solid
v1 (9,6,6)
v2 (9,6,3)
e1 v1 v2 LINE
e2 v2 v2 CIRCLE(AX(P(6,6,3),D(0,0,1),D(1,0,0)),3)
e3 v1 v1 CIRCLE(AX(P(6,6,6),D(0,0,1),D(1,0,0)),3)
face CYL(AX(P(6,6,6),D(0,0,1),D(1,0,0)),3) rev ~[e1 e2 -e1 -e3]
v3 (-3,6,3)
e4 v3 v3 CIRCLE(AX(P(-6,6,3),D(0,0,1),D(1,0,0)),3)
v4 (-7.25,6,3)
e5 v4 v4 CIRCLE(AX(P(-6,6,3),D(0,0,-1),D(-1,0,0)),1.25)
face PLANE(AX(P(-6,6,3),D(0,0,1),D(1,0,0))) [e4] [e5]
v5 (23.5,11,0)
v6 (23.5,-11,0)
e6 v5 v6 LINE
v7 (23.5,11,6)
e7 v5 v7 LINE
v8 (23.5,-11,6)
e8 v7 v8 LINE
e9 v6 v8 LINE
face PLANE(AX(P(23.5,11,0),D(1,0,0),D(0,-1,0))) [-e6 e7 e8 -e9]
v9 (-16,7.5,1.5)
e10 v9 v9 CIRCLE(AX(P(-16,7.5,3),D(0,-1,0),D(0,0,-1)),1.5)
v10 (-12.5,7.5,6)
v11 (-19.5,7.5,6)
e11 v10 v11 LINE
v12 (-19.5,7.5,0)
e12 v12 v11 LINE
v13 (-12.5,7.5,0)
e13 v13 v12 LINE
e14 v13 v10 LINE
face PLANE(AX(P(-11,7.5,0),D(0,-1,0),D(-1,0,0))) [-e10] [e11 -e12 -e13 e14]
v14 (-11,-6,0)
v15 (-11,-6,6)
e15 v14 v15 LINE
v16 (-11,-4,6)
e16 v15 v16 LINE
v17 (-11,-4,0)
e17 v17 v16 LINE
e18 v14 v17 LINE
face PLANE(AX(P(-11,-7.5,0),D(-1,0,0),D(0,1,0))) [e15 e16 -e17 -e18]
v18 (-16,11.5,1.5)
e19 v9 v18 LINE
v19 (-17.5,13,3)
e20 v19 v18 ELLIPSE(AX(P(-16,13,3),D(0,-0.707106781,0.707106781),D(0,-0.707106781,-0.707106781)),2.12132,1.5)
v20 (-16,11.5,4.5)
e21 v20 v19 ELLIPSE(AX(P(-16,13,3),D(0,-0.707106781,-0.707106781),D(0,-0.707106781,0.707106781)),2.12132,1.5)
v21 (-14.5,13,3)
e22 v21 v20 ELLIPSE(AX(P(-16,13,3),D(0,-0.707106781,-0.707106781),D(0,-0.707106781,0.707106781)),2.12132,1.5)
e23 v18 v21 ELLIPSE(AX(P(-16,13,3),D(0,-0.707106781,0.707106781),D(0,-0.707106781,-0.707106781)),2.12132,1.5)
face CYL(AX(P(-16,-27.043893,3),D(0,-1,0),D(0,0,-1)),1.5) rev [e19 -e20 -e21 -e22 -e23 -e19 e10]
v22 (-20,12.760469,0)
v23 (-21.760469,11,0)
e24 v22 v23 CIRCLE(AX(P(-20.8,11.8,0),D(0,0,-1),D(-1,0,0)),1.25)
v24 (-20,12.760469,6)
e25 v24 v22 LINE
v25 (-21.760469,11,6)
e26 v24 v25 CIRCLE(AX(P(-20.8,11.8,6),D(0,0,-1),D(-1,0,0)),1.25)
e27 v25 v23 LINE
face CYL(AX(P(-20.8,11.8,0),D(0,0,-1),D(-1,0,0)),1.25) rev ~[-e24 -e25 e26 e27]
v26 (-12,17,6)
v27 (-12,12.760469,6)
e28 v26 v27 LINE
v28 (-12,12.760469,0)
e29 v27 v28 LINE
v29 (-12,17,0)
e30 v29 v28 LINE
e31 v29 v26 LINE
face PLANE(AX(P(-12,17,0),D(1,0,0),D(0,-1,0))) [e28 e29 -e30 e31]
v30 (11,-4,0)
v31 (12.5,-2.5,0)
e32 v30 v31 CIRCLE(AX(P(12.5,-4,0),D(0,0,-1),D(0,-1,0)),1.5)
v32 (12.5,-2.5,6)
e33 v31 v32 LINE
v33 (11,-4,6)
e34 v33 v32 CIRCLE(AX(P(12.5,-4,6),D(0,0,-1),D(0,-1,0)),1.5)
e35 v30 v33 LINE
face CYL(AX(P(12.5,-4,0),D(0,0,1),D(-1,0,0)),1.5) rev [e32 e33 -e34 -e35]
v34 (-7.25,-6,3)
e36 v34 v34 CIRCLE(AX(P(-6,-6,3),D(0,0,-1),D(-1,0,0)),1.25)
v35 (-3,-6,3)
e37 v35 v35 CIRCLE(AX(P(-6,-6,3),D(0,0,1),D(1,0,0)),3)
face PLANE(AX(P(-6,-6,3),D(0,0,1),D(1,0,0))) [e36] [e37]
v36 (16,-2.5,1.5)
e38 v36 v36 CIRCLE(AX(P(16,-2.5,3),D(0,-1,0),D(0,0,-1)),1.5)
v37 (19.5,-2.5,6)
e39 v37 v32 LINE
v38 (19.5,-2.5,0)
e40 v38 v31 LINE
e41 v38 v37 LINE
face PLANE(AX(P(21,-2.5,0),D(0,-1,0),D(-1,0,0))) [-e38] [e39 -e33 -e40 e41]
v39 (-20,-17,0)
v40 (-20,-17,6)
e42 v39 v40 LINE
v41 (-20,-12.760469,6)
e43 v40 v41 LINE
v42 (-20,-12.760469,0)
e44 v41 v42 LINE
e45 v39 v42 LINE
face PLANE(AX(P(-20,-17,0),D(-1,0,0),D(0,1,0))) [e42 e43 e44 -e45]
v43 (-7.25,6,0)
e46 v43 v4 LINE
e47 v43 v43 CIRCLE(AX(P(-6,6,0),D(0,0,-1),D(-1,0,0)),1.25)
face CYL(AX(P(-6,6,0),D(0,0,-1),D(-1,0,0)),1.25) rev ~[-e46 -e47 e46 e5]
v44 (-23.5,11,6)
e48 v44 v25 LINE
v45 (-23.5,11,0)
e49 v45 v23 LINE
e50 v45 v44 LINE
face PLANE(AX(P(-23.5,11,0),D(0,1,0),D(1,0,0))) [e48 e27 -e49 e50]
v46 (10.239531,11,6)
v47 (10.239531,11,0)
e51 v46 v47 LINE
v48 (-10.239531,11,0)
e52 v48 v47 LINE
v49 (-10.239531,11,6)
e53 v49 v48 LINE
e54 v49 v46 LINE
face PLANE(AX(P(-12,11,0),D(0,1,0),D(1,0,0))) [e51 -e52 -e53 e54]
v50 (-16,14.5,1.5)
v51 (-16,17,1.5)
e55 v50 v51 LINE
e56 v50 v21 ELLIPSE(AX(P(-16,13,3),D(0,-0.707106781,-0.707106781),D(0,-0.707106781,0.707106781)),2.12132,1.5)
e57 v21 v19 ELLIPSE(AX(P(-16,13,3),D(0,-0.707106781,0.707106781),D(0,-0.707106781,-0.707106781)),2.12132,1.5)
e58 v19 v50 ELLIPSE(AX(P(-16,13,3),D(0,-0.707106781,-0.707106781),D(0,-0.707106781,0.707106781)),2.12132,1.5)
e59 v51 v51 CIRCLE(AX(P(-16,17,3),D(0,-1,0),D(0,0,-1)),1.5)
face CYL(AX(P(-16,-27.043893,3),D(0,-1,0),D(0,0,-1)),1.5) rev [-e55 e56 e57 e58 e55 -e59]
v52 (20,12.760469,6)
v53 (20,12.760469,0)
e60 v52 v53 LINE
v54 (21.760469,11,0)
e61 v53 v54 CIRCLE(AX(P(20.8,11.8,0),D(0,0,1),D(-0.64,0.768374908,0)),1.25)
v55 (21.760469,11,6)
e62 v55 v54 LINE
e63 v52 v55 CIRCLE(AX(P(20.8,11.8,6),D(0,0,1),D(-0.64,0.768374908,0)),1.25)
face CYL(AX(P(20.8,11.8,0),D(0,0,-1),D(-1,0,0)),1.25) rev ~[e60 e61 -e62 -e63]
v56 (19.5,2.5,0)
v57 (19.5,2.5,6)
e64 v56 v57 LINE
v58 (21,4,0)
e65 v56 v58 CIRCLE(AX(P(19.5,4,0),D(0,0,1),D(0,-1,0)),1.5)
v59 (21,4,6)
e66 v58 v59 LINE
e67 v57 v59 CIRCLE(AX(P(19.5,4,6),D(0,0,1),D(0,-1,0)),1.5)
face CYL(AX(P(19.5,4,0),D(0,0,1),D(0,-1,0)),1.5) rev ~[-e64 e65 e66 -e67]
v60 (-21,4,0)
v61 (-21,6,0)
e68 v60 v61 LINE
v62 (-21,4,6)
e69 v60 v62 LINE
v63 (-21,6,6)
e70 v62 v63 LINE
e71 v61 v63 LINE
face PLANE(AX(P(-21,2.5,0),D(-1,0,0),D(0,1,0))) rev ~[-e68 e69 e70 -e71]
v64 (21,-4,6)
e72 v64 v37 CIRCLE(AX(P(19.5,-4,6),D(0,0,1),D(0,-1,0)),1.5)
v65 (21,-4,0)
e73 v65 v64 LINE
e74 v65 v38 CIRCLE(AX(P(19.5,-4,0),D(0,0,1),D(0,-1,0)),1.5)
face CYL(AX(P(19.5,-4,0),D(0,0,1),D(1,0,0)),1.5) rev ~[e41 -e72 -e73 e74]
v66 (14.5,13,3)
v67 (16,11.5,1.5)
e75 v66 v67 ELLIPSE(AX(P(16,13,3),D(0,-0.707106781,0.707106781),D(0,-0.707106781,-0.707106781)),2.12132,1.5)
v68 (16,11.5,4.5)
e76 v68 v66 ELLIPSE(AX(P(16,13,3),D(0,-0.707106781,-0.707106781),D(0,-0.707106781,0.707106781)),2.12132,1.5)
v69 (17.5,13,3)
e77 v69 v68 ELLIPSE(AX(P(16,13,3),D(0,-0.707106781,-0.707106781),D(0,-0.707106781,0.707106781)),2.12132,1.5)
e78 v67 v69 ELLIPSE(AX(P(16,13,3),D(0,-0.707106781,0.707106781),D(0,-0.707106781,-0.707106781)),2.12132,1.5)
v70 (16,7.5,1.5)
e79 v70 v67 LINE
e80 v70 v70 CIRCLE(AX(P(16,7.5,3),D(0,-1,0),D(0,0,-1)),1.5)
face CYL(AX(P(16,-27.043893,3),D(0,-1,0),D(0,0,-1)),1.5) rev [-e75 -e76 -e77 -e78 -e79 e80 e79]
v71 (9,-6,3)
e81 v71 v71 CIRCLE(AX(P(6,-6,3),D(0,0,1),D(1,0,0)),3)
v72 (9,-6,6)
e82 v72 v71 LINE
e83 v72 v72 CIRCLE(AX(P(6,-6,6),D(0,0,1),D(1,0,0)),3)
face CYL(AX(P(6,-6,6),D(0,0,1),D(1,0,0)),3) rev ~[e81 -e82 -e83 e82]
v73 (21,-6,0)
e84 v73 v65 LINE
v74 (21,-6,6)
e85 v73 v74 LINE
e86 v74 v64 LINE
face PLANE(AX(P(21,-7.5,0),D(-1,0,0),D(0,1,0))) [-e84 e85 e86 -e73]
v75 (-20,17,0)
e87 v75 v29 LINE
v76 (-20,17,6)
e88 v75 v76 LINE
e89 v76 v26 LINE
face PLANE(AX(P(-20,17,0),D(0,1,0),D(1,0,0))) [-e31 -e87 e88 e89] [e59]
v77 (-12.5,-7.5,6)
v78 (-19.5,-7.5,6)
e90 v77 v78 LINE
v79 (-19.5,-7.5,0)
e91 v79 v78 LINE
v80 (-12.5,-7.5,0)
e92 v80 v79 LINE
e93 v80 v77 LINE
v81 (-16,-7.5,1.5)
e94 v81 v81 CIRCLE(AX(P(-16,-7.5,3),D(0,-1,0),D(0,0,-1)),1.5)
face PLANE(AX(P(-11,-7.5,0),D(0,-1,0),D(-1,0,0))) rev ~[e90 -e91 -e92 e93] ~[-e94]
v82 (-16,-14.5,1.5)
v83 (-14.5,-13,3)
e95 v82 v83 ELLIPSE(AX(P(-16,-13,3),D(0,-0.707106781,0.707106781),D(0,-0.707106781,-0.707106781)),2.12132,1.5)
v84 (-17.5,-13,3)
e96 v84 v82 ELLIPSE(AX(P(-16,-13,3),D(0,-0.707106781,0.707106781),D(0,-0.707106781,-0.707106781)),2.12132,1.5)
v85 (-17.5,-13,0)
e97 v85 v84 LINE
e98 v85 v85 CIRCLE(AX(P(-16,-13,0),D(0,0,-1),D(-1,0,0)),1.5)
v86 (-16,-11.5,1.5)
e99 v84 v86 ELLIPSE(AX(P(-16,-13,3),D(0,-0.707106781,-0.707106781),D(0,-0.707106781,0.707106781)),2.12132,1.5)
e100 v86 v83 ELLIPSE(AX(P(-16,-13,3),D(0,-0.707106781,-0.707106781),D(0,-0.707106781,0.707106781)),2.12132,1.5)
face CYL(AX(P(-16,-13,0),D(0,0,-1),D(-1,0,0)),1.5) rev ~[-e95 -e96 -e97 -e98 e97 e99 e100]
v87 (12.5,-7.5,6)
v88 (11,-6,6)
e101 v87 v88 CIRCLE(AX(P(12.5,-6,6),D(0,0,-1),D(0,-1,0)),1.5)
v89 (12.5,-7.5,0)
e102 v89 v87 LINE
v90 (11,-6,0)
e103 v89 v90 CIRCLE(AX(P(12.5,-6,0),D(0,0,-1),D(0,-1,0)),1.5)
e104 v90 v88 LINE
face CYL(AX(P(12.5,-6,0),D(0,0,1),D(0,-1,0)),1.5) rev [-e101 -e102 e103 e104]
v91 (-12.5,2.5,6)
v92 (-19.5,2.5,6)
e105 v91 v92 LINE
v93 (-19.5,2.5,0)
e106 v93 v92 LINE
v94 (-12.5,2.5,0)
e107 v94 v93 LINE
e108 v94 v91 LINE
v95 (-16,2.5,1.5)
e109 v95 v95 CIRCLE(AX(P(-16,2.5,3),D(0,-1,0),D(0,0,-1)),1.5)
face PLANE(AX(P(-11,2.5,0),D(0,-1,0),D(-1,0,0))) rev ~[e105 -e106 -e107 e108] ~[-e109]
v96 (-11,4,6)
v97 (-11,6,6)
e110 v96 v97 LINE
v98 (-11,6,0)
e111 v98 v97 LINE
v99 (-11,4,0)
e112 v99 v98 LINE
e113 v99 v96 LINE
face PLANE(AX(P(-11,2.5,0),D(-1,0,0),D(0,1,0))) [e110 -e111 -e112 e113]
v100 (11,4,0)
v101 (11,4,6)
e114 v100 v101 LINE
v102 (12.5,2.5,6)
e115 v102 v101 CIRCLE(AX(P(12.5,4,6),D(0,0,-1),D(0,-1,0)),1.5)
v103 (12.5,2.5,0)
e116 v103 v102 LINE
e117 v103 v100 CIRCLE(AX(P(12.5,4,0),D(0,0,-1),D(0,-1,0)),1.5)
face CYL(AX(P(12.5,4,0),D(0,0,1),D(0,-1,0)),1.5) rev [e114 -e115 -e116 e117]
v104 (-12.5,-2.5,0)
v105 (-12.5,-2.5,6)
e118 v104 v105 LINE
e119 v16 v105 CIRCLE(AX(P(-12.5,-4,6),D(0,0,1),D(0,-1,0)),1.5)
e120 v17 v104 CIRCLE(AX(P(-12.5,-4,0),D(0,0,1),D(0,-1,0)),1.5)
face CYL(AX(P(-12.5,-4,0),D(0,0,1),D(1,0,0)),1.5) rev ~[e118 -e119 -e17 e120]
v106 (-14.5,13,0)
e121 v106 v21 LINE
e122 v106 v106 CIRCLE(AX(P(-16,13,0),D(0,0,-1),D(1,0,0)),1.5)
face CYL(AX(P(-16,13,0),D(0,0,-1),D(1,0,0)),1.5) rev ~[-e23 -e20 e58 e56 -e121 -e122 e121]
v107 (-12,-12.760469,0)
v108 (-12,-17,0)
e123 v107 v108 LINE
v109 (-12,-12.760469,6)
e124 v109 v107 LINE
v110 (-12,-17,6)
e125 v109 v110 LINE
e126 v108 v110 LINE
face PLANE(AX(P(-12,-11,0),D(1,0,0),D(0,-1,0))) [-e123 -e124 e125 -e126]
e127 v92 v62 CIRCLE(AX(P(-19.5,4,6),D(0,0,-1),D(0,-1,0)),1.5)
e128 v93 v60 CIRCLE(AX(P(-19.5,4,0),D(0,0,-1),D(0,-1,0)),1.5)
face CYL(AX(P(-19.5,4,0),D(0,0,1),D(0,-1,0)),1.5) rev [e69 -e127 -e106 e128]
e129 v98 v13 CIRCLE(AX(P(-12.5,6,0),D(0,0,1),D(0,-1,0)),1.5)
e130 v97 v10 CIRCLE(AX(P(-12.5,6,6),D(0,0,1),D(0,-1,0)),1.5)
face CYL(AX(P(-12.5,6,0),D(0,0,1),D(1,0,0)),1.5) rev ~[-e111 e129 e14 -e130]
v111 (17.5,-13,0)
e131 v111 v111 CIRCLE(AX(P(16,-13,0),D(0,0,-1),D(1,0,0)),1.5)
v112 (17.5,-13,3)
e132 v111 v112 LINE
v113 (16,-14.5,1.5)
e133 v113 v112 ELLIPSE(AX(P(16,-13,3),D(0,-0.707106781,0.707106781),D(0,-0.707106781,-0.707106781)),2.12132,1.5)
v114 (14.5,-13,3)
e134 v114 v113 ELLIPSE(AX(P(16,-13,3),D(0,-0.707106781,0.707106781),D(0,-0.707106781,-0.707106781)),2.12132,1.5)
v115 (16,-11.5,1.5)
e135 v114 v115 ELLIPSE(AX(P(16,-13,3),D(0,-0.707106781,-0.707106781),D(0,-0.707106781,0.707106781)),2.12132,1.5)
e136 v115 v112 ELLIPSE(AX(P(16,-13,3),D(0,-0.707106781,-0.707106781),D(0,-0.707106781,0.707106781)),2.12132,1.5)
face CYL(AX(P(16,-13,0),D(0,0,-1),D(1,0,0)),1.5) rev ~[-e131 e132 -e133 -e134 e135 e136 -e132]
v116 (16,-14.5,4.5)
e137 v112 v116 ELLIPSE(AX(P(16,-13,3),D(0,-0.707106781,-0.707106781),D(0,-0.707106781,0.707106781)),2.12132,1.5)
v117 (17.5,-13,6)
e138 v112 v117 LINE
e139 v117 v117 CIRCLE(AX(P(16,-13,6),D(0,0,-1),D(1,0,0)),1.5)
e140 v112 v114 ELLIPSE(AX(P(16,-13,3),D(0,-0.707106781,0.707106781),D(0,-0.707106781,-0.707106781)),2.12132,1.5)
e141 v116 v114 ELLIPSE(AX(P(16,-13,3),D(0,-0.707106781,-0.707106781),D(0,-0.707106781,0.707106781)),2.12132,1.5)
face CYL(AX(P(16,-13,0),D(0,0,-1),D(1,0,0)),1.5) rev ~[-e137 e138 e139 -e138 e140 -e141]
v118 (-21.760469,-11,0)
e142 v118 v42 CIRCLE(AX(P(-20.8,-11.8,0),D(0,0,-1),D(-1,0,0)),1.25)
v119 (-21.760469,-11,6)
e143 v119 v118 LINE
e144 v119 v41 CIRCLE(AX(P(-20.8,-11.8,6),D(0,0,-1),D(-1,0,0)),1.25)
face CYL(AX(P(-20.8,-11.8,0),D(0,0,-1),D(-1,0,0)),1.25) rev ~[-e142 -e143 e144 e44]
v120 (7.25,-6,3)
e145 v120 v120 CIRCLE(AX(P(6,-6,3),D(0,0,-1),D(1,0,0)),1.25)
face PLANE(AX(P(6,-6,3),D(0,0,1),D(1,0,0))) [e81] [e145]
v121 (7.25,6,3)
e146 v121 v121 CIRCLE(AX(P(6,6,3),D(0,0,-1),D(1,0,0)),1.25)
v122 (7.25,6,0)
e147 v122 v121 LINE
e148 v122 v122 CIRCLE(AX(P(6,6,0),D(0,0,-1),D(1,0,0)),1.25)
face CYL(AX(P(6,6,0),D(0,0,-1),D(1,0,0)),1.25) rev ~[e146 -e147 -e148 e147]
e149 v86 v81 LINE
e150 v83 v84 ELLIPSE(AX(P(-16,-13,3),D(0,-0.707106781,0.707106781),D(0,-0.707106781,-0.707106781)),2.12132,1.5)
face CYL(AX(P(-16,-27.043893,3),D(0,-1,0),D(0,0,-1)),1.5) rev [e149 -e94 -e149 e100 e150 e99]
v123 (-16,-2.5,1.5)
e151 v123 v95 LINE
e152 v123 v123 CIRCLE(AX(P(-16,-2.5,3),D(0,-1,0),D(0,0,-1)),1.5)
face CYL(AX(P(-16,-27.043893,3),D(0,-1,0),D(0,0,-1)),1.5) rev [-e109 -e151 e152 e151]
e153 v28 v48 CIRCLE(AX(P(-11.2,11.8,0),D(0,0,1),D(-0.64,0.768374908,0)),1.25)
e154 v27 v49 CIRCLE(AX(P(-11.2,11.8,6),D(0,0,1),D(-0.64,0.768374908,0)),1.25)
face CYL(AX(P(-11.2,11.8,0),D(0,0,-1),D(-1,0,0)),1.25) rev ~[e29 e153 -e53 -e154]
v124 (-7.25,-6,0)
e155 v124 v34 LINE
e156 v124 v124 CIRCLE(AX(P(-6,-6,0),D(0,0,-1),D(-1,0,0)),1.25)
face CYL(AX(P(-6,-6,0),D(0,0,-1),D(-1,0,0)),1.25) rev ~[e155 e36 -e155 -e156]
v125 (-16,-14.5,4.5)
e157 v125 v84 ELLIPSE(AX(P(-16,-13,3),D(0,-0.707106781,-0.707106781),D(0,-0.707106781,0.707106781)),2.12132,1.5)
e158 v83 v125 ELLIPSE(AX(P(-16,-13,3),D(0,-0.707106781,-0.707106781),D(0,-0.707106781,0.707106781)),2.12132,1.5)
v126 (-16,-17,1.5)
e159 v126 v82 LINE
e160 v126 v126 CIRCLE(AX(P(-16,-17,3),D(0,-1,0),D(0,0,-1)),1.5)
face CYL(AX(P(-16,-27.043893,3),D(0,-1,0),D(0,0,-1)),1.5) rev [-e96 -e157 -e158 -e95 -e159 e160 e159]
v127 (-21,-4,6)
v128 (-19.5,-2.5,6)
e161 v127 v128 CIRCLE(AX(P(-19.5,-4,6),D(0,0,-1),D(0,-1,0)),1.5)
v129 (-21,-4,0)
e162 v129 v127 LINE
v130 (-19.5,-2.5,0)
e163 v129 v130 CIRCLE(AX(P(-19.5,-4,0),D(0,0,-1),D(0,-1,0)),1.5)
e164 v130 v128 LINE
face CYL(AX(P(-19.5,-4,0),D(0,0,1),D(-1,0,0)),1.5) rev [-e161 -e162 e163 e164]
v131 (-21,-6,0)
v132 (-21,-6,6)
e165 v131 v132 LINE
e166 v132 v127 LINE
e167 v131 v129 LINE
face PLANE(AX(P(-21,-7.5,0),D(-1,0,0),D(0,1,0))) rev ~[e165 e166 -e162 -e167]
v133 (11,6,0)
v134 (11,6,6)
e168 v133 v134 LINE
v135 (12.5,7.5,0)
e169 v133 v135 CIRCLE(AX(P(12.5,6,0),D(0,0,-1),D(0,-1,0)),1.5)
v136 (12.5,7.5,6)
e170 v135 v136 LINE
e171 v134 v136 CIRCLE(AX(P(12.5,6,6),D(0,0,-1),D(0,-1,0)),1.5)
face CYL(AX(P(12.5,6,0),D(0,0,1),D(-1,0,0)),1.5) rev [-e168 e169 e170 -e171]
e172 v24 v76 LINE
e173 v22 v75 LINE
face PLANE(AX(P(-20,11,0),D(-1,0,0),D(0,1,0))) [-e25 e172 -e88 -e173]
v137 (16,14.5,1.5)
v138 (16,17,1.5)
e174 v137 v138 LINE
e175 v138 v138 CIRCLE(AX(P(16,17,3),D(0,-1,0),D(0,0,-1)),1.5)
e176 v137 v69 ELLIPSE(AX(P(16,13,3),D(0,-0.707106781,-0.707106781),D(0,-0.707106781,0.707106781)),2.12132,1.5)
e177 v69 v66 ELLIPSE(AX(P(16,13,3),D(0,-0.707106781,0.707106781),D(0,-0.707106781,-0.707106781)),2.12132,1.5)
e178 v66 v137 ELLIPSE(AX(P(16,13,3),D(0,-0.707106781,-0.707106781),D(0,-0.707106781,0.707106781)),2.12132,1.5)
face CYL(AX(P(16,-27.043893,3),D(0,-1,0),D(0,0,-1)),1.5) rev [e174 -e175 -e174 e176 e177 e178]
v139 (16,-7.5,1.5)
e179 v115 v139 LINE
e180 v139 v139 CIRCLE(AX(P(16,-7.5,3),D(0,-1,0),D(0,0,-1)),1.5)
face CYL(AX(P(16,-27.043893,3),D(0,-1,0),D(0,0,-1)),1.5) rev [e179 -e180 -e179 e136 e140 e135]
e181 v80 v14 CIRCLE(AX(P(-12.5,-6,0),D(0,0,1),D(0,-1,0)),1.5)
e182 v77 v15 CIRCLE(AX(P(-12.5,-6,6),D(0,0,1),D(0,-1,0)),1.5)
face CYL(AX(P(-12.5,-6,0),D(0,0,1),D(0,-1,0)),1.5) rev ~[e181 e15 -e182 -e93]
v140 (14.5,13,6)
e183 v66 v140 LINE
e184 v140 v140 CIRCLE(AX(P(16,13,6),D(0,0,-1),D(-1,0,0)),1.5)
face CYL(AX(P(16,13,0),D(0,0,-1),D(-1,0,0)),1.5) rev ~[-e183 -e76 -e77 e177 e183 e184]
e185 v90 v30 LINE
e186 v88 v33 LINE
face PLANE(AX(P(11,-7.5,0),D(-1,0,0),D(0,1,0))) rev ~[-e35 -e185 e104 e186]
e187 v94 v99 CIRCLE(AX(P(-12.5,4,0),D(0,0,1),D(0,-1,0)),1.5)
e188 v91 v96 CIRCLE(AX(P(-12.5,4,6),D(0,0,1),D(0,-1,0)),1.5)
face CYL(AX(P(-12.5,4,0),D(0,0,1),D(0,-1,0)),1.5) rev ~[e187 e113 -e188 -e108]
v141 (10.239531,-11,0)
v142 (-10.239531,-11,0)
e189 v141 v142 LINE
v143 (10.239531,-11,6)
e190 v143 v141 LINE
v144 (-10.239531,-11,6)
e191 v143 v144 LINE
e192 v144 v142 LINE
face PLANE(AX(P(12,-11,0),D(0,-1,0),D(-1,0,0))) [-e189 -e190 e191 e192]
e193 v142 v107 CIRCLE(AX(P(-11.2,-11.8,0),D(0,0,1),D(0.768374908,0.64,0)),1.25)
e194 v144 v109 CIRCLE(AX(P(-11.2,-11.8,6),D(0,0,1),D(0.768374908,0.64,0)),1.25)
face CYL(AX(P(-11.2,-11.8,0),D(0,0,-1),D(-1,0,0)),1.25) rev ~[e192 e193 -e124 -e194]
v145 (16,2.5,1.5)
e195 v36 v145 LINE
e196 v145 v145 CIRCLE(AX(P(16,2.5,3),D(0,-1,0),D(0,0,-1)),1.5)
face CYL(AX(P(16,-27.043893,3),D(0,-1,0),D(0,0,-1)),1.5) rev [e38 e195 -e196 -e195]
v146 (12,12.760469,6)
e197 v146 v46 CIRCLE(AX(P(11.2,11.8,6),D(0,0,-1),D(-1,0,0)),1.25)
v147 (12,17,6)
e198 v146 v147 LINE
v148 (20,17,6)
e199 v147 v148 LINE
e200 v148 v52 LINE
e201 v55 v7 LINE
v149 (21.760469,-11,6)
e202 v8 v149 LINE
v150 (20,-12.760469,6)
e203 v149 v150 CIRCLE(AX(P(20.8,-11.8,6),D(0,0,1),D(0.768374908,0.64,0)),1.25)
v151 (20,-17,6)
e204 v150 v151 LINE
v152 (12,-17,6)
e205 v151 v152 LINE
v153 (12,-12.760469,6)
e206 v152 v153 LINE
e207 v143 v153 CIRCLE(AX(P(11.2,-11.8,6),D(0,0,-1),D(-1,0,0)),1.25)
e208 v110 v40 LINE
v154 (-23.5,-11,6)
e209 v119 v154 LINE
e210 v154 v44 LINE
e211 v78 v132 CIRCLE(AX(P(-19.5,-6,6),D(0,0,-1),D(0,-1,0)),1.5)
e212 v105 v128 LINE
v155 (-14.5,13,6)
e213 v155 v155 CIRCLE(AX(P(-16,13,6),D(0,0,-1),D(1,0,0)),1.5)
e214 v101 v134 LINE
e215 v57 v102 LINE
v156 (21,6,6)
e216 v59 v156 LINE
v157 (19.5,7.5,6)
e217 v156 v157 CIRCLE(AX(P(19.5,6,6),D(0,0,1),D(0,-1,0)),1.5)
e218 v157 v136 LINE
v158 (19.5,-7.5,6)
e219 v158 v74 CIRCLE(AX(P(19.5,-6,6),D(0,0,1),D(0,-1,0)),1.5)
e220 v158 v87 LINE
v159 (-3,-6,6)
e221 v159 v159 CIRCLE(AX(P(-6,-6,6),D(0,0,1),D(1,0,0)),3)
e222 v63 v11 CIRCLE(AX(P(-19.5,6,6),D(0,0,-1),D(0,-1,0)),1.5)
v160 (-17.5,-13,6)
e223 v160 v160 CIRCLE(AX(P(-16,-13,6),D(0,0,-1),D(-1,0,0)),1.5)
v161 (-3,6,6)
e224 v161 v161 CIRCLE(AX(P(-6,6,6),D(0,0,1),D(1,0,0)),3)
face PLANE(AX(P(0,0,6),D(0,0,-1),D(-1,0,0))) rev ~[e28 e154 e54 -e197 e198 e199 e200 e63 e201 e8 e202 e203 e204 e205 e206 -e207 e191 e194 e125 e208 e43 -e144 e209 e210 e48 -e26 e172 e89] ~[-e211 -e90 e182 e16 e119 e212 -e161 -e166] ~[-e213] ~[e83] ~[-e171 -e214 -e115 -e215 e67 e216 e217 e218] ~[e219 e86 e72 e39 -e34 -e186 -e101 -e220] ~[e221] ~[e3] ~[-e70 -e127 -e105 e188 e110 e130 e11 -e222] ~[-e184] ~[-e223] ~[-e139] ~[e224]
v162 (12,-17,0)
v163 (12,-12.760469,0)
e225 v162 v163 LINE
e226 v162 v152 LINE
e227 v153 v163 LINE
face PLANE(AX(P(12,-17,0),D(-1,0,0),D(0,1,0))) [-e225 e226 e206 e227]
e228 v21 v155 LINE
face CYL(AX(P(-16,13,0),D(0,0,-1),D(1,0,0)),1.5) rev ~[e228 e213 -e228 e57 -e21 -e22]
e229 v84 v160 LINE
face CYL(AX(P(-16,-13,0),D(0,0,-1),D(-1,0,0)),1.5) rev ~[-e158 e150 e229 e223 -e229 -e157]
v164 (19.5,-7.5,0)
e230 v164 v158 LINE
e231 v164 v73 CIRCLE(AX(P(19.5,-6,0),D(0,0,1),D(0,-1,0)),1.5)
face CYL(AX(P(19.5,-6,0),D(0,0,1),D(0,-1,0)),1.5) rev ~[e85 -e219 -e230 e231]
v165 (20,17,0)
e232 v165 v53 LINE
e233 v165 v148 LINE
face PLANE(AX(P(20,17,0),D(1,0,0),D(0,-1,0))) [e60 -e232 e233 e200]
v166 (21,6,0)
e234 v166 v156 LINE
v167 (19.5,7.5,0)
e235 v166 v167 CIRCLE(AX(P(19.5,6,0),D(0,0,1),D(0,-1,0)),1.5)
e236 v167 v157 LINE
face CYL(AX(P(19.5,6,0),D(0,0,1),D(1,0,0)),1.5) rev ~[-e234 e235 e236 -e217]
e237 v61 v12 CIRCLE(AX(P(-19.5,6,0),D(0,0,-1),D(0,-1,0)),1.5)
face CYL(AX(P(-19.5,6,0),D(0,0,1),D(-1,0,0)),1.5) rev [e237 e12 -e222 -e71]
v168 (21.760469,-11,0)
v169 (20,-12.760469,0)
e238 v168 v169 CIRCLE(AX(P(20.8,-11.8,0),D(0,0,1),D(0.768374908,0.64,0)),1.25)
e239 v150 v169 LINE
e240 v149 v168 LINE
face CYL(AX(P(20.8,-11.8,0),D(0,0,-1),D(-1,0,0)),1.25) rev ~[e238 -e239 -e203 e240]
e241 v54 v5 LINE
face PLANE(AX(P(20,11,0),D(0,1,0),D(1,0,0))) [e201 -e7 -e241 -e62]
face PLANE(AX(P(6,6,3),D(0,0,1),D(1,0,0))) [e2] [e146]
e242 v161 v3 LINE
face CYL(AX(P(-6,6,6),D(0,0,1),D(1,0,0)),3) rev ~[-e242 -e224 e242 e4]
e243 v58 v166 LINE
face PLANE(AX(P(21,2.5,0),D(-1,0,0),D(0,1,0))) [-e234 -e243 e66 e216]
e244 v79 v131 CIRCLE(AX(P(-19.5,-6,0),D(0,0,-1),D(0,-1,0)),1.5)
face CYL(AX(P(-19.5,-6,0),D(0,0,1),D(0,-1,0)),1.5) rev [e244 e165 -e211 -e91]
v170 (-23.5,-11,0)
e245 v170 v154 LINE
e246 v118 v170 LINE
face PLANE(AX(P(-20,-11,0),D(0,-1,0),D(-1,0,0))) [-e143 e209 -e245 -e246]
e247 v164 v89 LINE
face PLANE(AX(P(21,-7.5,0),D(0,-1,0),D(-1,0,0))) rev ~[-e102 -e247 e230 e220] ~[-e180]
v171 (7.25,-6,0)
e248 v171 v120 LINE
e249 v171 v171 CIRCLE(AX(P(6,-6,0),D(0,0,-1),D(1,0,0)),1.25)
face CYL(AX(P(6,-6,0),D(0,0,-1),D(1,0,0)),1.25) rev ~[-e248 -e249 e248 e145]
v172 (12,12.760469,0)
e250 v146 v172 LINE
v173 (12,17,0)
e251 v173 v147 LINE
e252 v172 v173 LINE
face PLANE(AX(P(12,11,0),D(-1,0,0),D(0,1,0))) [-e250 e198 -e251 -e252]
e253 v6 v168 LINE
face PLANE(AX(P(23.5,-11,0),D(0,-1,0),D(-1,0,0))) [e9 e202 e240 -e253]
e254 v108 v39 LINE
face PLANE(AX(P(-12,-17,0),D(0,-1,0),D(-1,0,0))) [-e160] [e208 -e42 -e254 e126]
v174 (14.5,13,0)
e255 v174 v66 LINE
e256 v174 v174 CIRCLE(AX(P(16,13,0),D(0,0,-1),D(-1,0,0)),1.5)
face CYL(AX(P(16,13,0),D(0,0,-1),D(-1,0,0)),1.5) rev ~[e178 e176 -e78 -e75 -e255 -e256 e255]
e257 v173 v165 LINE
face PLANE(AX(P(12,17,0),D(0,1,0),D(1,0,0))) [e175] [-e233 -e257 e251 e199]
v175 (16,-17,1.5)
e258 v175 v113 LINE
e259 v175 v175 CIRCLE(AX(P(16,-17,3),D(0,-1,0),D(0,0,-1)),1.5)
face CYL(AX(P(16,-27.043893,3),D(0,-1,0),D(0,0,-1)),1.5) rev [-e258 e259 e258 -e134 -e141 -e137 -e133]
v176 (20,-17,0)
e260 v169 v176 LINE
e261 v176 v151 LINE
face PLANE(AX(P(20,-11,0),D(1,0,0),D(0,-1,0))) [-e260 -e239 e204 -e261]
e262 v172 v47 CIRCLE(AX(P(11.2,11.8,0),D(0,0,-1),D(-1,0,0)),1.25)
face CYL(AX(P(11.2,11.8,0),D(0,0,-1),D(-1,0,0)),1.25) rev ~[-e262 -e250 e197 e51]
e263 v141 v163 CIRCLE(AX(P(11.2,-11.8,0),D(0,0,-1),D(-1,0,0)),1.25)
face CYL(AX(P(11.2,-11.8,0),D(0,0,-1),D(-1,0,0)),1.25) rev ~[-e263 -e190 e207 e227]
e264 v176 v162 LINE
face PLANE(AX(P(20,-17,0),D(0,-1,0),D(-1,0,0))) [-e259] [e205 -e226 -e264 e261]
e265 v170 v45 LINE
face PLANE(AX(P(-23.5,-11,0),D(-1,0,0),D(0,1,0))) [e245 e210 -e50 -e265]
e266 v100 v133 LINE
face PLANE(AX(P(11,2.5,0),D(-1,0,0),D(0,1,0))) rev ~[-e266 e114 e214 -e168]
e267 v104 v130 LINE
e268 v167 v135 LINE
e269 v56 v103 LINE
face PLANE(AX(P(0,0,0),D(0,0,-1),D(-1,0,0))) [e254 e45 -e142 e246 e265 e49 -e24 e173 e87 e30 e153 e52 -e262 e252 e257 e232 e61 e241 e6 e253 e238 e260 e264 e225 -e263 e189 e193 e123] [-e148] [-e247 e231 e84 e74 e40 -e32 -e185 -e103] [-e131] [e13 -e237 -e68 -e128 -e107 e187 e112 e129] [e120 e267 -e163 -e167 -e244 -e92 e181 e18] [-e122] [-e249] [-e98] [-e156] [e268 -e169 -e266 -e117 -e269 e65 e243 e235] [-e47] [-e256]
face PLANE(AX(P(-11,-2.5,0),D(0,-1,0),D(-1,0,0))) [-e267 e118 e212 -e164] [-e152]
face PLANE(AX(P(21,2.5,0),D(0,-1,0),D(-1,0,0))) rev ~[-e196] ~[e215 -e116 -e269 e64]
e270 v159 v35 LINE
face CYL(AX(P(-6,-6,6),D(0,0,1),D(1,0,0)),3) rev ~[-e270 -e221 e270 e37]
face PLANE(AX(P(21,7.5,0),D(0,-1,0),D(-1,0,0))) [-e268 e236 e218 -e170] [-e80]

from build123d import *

# Parameters (mm, degrees)
EXTRUDE_1_DEPTH          = 6
CUT_EXTRUDE_1_DEPTH      = 10
CUT_EXTRUDE_1_DEPTH_BACK = 38.043892884
SKETCH_3_R               = 1.5
SKETCH_4_W               = 10
SKETCH_4_H               = 5
CUT_EXTRUDE_2_DEPTH      = 30.618406439
SKETCH_5_R               = 1.5
CUT_EXTRUDE_3_DEPTH      = 30.618406439
FILLET_4_R               = 1.5
SKETCH_9_R               = 1.25
CUT_EXTRUDE_7_DEPTH      = 30.618406439
SKETCH_11_R              = 1.25
CUT_EXTRUDE_9_DEPTH      = 30.618406439
SKETCH_12_R              = 3
CUT_EXTRUDE_10_DEPTH     = 3


with BuildPart() as part:
    # 草图1 → 凸台-拉伸1 (new body)
    with BuildSketch(Plane.XY):
        Polygon((-23.5, 11), (-20, 11), (-20, 17), (-12, 17), (-12, 11), (12, 11), (12, 17), (20, 17), (20, 11), (23.5, 11), (23.5, -11), (20, -11), (20, -17), (12, -17), (12, -11), (-12, -11), (-12, -17), (-20, -17), (-20, -11), (-23.5, -11), align=None)
    extrude(amount=EXTRUDE_1_DEPTH)

    # 草图3 → 切除-拉伸1 (cut, two sides: drawn at the far end of the back side and taken through both)
    with BuildSketch(Plane(origin=(0, 11, 0), x_dir=(1, 0, 0), z_dir=(0, 1, 0)).offset(-CUT_EXTRUDE_1_DEPTH_BACK)):
        with Locations(Location((16, -3, 0), (0, 0, 90))):
            Circle(SKETCH_3_R)
        with Locations(Location((-16, -3, 0), (0, 0, 90))):
            Circle(SKETCH_3_R)
    extrude(amount=CUT_EXTRUDE_1_DEPTH + CUT_EXTRUDE_1_DEPTH_BACK, mode=Mode.SUBTRACT)

    # 草图4 → 切除-拉伸2 (cut, through all)
    with BuildSketch(Plane(origin=(0, 0, 0), x_dir=(-1, 0, 0), z_dir=(0, 0, -1))):
        with Locations((16, 5)):
            Rectangle(SKETCH_4_W, SKETCH_4_H)
        with Locations((16, -5)):
            Rectangle(SKETCH_4_W, SKETCH_4_H)
        with Locations((-16, 5)):
            Rectangle(SKETCH_4_W, SKETCH_4_H)
        with Locations((-16, -5)):
            Rectangle(SKETCH_4_W, SKETCH_4_H)
    extrude(amount=-CUT_EXTRUDE_2_DEPTH, mode=Mode.SUBTRACT)

    # 草图5 → 切除-拉伸3 (cut, through all)
    with BuildSketch(Plane(origin=(0, 0, 0), x_dir=(-1, 0, 0), z_dir=(0, 0, -1))):
        with Locations((-16, 13)):
            Circle(SKETCH_5_R)
        with Locations(Location((16, 13, 0), (0, 0, 180))):
            Circle(SKETCH_5_R)
        with Locations((16, -13)):
            Circle(SKETCH_5_R)
        with Locations(Location((-16, -13, 0), (0, 0, 180))):
            Circle(SKETCH_5_R)
    extrude(amount=-CUT_EXTRUDE_3_DEPTH, mode=Mode.SUBTRACT)

    # 圆角4
    fillet_4_edges = [part.edges().sort_by_distance(p)[0] for p in [
        (21, -7.5, 3),
        (21, -2.5, 3),
        (11, -2.5, 3),
        (11, -7.5, 3),
        (21, 2.5, 3),
        (21, 7.5, 3),
        (11, 7.5, 3),
        (11, 2.5, 3),
        (-11, -7.5, 3),
        (-11, -2.5, 3),
        (-21, -2.5, 3),
        (-21, -7.5, 3),
        (-11, 7.5, 3),
        (-21, 7.5, 3),
        (-21, 2.5, 3),
        (-11, 2.5, 3),
    ]]
    fillet(fillet_4_edges, radius=FILLET_4_R)

    # 草图9 → 切除-拉伸7 (cut, through all)
    with BuildSketch(Plane(origin=(0, 0, 0), x_dir=(-1, 0, 0), z_dir=(0, 0, -1))):
        with Locations((-11.2, 11.8)):
            Circle(SKETCH_9_R)
        with Locations((11.2, 11.8)):
            Circle(SKETCH_9_R)
        with Locations((11.2, -11.8)):
            Circle(SKETCH_9_R)
        with Locations((-11.2, -11.8)):
            Circle(SKETCH_9_R)
        with Locations((-20.8, 11.8)):
            Circle(SKETCH_9_R)
        with Locations((20.8, 11.8)):
            Circle(SKETCH_9_R)
        with Locations((20.8, -11.8)):
            Circle(SKETCH_9_R)
        with Locations((-20.8, -11.8)):
            Circle(SKETCH_9_R)
    extrude(amount=-CUT_EXTRUDE_7_DEPTH, mode=Mode.SUBTRACT)

    # 草图11 → 切除-拉伸9 (cut, through all)
    with BuildSketch(Plane(origin=(0, 0, 0), x_dir=(-1, 0, 0), z_dir=(0, 0, -1))):
        with Locations((6, 6)):
            Circle(SKETCH_11_R)
        with Locations((6, -6)):
            Circle(SKETCH_11_R)
        with Locations(Location((-6, 6, 0), (0, 0, 180))):
            Circle(SKETCH_11_R)
        with Locations(Location((-6, -6, 0), (0, 0, 180))):
            Circle(SKETCH_11_R)
    extrude(amount=-CUT_EXTRUDE_9_DEPTH, mode=Mode.SUBTRACT)

    # 草图12 → 切除-拉伸10 (cut)
    with BuildSketch(Plane.XY.offset(6)):
        with Locations((-6, 6)):
            Circle(SKETCH_12_R)
        with Locations((-6, -6)):
            Circle(SKETCH_12_R)
        with Locations((6, 6)):
            Circle(SKETCH_12_R)
        with Locations((6, -6)):
            Circle(SKETCH_12_R)
    extrude(amount=-CUT_EXTRUDE_10_DEPTH, mode=Mode.SUBTRACT)


solid = part.part
